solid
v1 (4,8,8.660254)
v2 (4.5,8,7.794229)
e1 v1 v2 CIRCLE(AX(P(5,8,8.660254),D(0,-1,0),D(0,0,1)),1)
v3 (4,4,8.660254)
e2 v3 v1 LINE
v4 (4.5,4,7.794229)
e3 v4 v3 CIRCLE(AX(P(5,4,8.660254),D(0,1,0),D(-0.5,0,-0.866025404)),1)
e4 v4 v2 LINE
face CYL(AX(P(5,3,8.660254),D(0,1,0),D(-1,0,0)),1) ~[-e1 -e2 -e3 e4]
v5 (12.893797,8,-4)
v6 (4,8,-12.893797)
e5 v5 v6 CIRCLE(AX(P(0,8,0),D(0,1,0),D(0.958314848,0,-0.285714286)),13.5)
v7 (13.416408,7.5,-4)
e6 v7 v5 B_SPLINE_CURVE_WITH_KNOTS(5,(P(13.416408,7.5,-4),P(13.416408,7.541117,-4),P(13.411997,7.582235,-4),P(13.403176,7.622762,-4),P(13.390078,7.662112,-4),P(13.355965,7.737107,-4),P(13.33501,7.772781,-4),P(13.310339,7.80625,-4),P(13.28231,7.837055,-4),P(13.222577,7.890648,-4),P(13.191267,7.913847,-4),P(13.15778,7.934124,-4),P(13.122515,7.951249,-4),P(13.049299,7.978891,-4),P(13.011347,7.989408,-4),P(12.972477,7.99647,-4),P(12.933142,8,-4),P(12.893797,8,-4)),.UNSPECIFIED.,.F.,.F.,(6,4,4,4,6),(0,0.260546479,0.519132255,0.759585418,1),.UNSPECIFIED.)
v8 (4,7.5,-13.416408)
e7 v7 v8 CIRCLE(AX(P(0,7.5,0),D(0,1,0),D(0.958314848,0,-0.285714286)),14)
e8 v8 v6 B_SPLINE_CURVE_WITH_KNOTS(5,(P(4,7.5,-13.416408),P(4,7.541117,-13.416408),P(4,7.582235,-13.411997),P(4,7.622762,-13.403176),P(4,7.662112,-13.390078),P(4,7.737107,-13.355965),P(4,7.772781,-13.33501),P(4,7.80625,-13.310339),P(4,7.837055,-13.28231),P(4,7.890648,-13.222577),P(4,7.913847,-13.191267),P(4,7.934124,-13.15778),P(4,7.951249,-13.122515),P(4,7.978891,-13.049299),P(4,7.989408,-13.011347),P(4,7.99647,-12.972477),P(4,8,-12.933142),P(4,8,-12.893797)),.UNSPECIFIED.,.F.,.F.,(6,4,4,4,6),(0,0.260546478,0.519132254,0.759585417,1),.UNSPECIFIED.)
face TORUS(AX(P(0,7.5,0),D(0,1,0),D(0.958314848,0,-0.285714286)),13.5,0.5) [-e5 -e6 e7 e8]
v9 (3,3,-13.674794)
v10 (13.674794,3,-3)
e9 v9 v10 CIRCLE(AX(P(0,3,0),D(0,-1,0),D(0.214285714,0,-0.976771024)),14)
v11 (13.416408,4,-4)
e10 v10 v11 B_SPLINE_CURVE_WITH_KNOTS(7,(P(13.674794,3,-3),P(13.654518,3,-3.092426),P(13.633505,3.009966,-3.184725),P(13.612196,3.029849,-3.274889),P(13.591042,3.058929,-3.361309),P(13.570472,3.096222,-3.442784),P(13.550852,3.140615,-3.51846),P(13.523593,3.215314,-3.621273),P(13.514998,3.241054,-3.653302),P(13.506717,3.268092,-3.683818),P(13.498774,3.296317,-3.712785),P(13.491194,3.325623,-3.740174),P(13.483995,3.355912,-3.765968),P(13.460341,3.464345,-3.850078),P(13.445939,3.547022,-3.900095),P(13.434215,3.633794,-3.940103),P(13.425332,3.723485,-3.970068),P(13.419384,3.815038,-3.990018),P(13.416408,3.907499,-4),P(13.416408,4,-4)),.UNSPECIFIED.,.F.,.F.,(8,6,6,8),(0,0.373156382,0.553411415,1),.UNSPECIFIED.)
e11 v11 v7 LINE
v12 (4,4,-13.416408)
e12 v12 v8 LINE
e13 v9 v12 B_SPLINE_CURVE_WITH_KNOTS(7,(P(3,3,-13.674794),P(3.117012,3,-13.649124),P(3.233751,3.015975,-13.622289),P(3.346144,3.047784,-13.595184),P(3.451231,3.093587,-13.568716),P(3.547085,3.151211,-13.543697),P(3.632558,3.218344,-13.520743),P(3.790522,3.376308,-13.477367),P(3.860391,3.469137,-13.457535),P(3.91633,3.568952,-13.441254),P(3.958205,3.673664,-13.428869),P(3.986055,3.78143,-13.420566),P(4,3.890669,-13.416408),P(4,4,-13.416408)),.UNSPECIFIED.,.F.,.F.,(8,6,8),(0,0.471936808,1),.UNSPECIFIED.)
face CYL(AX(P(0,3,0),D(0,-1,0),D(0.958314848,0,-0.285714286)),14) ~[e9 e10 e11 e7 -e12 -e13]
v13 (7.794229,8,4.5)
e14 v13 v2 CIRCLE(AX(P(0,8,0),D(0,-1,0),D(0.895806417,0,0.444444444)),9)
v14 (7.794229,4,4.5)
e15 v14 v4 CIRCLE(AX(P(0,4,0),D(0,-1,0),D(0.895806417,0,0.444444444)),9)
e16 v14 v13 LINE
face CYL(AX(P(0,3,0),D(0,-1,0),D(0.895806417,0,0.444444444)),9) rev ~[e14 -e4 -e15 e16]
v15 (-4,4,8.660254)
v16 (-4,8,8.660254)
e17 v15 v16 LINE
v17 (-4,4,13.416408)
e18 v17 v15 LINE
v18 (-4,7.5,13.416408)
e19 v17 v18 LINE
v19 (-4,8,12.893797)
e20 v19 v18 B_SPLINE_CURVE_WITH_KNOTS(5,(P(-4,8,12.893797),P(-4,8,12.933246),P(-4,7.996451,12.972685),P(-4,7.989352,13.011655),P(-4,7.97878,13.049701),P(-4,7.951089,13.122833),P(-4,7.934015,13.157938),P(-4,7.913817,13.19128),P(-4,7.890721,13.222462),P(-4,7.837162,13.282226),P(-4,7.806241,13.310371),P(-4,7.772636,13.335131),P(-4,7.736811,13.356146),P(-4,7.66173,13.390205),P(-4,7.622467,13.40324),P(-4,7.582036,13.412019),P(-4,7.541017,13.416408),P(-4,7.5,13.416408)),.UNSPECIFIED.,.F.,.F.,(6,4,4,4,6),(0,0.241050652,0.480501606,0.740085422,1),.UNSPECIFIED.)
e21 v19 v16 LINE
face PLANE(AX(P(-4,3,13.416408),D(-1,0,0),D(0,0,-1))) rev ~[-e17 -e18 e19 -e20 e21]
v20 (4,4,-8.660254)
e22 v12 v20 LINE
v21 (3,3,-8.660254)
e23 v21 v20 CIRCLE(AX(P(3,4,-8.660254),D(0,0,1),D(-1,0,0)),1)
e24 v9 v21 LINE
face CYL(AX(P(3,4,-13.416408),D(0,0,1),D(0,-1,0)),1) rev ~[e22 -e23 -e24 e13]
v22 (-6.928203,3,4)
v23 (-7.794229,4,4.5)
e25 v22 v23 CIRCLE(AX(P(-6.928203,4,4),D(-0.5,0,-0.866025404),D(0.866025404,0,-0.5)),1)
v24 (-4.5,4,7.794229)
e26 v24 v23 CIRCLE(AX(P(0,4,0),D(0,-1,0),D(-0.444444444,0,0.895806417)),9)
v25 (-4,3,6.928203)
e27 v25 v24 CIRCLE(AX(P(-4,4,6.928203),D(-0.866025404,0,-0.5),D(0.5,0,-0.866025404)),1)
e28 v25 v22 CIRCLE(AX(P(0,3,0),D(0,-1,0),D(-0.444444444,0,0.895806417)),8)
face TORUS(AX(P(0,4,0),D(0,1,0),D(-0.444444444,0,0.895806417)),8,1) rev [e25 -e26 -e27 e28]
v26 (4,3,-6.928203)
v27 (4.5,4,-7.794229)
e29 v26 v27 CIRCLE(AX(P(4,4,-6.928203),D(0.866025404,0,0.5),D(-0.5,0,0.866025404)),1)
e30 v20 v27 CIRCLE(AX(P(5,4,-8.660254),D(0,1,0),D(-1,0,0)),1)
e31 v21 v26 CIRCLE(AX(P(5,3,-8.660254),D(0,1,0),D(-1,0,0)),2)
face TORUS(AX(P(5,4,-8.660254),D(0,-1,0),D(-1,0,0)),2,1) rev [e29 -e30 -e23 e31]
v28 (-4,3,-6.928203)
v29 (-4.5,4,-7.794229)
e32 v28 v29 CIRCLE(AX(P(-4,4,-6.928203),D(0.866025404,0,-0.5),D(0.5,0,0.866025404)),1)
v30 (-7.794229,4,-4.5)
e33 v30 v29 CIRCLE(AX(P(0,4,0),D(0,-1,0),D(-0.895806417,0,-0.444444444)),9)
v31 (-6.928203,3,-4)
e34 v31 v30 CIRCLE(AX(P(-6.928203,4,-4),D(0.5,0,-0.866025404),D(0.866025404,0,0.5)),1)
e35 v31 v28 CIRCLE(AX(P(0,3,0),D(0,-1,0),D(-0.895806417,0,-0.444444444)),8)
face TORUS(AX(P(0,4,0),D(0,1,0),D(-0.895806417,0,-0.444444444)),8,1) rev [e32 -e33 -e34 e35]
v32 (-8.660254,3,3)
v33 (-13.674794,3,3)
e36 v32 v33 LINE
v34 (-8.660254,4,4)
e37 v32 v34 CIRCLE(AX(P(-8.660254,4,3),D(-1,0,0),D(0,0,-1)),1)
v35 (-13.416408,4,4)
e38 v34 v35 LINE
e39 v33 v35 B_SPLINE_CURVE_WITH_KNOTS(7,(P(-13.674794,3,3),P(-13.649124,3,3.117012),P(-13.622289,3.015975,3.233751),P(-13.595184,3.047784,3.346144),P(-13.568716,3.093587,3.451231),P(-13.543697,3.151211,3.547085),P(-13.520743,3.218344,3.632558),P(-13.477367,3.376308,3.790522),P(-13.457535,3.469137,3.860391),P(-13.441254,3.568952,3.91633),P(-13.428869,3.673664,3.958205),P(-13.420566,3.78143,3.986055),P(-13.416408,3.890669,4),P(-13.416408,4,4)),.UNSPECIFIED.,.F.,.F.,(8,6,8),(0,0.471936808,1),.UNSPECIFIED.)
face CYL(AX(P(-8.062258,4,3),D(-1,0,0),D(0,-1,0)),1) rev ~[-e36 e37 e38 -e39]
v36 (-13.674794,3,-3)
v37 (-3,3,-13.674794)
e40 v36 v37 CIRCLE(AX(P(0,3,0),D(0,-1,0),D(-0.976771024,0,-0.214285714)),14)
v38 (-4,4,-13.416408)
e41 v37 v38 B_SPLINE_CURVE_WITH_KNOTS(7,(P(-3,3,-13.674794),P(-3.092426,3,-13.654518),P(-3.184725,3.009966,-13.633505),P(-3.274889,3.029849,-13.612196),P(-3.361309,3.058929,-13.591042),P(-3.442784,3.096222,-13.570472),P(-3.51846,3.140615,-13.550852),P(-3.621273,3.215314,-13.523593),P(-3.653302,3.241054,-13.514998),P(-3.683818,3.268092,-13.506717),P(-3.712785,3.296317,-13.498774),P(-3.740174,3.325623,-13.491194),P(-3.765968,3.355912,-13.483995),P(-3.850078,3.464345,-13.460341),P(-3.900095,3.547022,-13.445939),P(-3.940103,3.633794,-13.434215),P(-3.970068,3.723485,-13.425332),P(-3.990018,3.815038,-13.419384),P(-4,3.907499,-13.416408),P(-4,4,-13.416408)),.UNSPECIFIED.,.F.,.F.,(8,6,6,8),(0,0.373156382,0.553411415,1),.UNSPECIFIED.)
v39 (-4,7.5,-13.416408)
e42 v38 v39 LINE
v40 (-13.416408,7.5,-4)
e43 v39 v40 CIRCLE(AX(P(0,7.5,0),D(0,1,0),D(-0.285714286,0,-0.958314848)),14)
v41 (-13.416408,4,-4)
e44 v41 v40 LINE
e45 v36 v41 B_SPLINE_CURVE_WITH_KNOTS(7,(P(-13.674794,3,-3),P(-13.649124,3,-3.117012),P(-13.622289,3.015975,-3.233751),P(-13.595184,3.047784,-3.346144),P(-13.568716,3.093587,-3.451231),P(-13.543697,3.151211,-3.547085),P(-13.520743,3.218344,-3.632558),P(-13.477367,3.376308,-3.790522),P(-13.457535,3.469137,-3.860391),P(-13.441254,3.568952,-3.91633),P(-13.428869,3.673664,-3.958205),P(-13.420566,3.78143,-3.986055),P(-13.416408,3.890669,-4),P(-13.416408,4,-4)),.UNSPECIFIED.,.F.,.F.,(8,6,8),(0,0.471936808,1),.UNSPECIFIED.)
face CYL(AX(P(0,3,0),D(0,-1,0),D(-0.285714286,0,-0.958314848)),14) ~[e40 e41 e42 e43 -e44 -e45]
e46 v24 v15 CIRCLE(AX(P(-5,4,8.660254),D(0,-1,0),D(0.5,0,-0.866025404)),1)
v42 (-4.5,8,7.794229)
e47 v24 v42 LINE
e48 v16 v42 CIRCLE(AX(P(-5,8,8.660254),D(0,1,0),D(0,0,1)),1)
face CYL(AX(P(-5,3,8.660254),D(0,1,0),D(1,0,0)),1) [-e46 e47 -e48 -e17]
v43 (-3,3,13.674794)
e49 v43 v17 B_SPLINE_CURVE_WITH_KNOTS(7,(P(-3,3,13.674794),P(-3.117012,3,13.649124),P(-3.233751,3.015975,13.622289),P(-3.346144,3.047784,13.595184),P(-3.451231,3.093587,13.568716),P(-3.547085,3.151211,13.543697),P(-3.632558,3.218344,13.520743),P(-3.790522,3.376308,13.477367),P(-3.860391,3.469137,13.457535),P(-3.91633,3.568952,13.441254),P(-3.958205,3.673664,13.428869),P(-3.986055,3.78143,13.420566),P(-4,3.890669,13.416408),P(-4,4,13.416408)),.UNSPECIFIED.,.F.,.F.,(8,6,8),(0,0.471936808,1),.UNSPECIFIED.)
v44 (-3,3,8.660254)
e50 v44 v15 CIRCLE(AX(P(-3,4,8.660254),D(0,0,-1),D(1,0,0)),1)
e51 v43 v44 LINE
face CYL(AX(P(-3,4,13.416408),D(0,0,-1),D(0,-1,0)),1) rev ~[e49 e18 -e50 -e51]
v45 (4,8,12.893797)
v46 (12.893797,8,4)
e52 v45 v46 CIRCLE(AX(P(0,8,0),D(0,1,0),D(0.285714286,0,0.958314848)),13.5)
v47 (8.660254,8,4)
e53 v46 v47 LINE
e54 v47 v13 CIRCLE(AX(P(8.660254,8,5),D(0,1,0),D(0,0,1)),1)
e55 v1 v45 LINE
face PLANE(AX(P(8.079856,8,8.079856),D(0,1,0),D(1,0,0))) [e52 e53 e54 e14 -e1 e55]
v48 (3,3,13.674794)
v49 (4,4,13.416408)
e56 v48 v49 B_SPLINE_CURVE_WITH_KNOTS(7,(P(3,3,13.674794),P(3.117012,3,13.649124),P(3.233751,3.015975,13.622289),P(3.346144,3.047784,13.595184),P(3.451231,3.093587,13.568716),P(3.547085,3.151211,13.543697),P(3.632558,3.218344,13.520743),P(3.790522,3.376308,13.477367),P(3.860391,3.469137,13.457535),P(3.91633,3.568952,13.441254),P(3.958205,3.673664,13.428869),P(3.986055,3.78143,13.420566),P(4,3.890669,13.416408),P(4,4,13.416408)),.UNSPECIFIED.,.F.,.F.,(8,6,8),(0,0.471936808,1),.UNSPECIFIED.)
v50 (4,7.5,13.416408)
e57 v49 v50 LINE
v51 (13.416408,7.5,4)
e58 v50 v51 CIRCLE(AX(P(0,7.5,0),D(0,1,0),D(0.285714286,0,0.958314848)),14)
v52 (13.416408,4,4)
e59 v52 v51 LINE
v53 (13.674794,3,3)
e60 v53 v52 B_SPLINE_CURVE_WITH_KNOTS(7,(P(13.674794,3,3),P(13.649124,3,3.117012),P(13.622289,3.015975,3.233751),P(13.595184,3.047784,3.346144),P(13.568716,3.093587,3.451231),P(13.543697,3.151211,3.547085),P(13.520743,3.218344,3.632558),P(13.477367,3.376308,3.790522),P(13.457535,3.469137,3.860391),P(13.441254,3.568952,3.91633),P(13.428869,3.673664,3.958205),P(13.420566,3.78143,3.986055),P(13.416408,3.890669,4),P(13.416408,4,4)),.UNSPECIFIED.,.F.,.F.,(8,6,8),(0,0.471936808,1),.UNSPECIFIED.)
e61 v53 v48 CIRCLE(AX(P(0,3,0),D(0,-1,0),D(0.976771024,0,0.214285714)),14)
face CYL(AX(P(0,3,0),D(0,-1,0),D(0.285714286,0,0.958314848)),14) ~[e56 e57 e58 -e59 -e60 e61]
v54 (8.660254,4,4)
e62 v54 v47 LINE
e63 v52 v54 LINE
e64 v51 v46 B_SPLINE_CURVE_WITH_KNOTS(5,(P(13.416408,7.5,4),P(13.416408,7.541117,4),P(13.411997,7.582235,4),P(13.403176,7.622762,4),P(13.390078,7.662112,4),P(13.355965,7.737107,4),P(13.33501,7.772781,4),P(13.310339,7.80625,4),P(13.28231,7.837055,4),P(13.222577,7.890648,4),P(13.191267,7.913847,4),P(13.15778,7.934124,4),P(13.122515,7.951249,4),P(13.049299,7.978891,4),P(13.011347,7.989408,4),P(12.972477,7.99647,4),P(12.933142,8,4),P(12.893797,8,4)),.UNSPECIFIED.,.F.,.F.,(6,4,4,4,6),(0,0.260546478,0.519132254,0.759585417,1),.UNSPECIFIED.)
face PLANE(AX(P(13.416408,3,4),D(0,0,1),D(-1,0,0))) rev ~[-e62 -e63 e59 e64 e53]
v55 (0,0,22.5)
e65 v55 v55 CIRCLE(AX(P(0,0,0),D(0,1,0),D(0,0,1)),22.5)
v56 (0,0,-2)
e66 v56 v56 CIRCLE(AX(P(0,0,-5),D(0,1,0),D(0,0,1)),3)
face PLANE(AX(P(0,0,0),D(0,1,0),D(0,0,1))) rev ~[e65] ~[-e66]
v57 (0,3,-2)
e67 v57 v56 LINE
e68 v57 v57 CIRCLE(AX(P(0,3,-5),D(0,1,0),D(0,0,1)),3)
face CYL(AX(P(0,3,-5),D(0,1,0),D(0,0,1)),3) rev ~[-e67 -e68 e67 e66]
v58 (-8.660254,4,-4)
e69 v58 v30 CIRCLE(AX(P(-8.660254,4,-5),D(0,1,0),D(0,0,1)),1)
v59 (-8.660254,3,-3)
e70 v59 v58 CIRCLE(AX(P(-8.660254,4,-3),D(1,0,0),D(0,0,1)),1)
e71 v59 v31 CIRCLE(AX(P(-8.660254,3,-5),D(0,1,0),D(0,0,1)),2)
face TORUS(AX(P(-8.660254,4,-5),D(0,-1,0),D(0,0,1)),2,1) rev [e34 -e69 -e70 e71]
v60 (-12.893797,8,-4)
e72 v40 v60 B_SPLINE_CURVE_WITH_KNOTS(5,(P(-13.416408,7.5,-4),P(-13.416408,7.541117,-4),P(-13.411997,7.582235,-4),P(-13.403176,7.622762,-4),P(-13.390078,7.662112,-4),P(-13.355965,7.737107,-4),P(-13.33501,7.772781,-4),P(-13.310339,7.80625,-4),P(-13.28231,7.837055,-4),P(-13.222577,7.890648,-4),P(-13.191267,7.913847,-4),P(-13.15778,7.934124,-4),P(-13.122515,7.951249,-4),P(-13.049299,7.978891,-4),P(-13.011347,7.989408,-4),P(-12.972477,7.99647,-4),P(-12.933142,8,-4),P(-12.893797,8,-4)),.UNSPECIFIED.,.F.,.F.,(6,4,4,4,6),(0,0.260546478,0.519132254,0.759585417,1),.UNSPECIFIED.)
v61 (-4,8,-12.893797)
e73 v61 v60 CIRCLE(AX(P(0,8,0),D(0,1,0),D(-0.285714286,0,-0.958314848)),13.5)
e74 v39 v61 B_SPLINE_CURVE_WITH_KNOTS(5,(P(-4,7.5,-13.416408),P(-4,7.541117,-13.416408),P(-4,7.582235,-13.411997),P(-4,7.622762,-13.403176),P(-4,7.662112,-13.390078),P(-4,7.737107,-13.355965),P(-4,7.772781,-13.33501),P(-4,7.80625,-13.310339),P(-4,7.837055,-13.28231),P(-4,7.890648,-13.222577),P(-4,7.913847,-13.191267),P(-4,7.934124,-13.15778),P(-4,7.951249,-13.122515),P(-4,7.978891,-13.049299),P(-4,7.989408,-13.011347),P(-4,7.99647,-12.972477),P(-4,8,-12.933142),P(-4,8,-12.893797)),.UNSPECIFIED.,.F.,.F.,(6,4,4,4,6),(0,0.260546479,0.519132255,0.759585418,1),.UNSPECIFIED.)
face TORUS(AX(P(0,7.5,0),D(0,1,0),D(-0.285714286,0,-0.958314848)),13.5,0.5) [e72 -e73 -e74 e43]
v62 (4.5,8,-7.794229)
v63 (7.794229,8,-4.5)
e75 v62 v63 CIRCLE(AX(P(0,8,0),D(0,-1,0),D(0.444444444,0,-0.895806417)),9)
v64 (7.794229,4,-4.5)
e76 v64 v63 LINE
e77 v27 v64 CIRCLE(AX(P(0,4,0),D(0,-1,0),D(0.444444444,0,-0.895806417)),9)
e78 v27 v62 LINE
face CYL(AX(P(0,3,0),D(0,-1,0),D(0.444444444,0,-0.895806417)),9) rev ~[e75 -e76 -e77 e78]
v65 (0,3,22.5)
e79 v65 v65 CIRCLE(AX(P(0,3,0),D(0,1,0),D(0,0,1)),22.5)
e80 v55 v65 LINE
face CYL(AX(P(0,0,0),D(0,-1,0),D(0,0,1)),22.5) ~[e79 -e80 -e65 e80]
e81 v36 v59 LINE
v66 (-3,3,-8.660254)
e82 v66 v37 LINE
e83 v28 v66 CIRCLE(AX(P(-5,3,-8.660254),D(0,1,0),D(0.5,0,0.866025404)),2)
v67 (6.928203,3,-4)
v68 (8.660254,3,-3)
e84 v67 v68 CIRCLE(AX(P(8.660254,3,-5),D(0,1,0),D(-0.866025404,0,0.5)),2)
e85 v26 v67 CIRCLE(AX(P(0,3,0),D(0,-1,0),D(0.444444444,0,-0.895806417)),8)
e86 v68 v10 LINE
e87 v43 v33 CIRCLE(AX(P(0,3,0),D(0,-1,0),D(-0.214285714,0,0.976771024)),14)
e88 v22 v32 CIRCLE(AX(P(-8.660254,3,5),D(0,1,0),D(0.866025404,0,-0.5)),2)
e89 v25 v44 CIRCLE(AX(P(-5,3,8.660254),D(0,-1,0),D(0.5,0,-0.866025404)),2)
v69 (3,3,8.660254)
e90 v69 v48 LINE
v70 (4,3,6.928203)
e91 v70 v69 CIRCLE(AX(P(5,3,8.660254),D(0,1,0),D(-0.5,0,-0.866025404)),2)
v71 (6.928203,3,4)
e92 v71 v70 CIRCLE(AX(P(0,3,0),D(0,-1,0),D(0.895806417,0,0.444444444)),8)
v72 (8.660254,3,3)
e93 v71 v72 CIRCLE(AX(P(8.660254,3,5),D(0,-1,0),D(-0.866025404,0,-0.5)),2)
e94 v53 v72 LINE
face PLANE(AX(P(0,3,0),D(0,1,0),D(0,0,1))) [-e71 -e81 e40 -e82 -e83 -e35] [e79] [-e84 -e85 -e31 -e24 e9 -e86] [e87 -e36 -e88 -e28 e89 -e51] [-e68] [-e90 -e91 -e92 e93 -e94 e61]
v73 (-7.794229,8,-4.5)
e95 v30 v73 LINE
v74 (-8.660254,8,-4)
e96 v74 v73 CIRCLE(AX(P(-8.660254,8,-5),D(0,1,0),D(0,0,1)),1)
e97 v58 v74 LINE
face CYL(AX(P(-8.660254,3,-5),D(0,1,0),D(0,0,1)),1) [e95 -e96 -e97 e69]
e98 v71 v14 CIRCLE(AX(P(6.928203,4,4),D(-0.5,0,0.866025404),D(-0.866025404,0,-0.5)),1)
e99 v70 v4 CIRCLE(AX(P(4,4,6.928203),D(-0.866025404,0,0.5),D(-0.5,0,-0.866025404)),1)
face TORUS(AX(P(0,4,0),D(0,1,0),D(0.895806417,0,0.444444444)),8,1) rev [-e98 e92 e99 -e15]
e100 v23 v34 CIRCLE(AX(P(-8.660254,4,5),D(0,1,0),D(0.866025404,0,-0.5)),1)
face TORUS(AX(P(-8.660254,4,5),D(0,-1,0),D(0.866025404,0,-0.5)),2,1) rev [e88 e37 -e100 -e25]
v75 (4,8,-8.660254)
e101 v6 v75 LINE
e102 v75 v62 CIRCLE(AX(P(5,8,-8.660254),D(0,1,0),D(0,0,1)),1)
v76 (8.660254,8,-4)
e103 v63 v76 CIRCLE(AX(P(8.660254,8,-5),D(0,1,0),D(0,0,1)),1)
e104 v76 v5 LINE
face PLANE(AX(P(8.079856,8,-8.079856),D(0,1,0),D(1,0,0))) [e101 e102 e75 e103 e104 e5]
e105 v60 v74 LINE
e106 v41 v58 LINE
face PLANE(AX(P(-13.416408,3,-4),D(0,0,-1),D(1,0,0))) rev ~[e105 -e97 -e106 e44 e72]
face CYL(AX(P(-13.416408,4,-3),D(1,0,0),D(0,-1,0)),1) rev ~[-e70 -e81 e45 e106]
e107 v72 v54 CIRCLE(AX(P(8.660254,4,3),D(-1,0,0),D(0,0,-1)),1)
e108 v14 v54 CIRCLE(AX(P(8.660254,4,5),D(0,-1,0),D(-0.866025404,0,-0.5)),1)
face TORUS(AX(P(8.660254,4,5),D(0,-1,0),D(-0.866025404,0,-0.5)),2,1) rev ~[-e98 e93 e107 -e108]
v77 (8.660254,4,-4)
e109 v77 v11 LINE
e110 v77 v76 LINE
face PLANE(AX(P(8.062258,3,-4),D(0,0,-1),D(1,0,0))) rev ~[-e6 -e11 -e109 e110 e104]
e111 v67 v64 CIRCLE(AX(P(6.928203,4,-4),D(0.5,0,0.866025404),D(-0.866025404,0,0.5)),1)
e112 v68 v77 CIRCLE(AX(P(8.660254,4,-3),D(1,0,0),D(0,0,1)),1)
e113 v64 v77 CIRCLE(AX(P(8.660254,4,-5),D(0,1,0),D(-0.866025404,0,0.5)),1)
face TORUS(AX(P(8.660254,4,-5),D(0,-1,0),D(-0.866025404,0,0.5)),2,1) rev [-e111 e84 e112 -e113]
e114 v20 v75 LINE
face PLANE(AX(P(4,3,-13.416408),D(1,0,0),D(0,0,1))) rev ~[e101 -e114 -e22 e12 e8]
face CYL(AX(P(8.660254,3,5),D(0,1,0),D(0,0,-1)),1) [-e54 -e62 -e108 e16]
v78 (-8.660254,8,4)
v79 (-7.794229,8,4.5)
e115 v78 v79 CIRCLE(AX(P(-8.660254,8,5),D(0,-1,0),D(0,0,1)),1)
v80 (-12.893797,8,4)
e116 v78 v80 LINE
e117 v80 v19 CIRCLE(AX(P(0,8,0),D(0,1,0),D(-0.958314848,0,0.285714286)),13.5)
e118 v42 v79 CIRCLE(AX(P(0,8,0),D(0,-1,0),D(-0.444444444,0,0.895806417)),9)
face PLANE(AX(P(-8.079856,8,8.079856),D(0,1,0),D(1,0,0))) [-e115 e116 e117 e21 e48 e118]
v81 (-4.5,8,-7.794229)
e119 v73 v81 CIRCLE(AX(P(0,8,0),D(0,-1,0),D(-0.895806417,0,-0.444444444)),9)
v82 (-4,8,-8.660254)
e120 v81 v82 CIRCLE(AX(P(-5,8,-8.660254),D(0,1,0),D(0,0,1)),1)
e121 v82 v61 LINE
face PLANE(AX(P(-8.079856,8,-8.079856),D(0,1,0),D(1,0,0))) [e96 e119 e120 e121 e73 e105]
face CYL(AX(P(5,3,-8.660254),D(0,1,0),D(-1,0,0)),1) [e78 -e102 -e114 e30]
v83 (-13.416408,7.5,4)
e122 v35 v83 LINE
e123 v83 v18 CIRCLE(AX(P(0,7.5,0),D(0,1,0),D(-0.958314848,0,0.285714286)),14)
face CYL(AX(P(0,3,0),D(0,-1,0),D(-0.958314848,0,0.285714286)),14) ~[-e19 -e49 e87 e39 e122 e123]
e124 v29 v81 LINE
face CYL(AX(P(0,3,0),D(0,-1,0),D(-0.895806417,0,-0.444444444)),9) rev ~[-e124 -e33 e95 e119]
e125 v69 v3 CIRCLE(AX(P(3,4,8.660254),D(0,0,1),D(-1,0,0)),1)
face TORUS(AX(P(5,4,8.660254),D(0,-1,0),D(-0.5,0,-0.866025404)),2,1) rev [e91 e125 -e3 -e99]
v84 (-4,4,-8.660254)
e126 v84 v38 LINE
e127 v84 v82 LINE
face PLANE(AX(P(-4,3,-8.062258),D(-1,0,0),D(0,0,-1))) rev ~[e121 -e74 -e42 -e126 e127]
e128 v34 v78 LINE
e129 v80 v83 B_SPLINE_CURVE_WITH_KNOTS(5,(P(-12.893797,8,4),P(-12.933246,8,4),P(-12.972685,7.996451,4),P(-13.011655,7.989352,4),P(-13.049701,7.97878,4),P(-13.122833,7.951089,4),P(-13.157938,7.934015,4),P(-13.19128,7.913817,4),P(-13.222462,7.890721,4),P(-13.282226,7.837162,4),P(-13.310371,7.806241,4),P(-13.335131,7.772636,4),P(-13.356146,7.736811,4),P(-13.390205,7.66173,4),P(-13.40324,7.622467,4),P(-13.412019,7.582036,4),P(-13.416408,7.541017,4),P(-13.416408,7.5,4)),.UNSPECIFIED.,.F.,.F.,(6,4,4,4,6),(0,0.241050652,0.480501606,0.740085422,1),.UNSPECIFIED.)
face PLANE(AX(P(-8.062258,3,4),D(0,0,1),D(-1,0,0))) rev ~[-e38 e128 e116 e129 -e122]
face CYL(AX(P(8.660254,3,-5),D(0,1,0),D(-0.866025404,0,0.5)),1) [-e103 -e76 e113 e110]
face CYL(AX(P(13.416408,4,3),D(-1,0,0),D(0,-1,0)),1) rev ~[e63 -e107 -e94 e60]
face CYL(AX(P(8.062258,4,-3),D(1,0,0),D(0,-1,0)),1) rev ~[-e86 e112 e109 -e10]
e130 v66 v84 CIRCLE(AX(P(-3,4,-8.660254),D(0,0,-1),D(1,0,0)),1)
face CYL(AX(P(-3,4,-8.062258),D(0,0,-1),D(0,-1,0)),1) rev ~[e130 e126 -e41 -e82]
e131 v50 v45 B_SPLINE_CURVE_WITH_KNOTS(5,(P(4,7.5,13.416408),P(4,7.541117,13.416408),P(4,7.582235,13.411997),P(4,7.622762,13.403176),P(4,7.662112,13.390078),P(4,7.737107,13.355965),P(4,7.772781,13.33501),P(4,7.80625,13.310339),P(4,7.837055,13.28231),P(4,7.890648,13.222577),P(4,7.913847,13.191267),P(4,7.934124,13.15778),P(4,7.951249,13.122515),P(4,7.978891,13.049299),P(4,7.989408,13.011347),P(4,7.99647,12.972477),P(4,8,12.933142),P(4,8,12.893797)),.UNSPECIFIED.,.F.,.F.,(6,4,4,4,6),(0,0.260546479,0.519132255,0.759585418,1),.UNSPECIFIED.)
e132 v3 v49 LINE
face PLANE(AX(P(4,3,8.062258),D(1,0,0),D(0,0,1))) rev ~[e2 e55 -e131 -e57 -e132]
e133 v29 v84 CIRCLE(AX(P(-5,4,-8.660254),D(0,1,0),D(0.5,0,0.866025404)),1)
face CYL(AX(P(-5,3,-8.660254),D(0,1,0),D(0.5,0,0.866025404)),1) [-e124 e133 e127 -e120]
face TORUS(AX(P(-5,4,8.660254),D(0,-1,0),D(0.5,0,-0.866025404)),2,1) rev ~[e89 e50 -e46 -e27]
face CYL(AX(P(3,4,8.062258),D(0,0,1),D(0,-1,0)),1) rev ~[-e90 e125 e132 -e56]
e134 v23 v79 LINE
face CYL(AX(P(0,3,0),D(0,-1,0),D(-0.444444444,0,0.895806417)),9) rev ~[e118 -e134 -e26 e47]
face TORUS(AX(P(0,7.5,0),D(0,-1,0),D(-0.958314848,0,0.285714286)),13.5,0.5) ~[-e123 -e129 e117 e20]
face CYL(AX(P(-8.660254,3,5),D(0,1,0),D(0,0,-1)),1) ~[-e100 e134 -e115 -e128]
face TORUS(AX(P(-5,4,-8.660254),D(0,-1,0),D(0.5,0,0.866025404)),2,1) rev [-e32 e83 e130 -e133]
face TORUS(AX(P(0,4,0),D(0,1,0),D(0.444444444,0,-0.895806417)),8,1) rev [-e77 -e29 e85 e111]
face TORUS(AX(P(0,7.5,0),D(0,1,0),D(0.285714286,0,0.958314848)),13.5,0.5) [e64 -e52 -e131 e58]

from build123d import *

# Parameters (mm, degrees)
SKETCH2_R           = 22.5
BOSS_EXTRUDE1_DEPTH = 3
BOSS_EXTRUDE2_DEPTH = 5
FILLET1_R           = 1
FILLET2_R           = 0.5
SKETCH5_R           = 3
CUT_EXTRUDE1_DEPTH  = 5


with BuildPart() as part:
    # Sketch2 → Boss-Extrude1 (new body)
    with BuildSketch(Plane(origin=(0, 0, 0), x_dir=(1, 0, 0), z_dir=(0, 1, 0))):
        with Locations(Location((0, 0, 0), (0, 0, 270))):
            Circle(SKETCH2_R)
    extrude(amount=BOSS_EXTRUDE1_DEPTH)

    # Sketch3 → Boss-Extrude2 (add)
    with BuildSketch(Plane(origin=(0, 3, 0), x_dir=(1, 0, 0), z_dir=(0, 1, 0))):
        with BuildLine():
            ThreePointArc((-4, 13.416407865), (-9.899494937, 9.899494937), (-13.416407865, 4))
            Line((-13.416407865, 4), (-8.062257748, 4))
            ThreePointArc((-8.062257748, 4), (-6.363961031, 6.363961031), (-4, 8.062257748))
            Line((-4, 8.062257748), (-4, 13.416407865))
        make_face()
        with BuildLine():
            ThreePointArc((13.416407865, 4), (9.899494937, 9.899494937), (4, 13.416407865))
            Line((4, 13.416407865), (4, 8.062257748))
            ThreePointArc((4, 8.062257748), (6.363961031, 6.363961031), (8.062257748, 4))
            Line((8.062257748, 4), (13.416407865, 4))
        make_face()
        with BuildLine():
            Line((4, -8.062257748), (4, -13.416407865))
            ThreePointArc((4, -13.416407865), (9.899494937, -9.899494937), (13.416407865, -4))
            Line((13.416407865, -4), (8.062257748, -4))
            ThreePointArc((8.062257748, -4), (6.363961031, -6.363961031), (4, -8.062257748))
        make_face()
        with BuildLine():
            Line((-8.062257748, -4), (-13.416407865, -4))
            ThreePointArc((-13.416407865, -4), (-9.899494937, -9.899494937), (-4, -13.416407865))
            Line((-4, -13.416407865), (-4, -8.062257748))
            ThreePointArc((-4, -8.062257748), (-6.363961031, -6.363961031), (-8.062257748, -4))
        make_face()
    extrude(amount=BOSS_EXTRUDE2_DEPTH)

    # Fillet1
    fillet1_edges = [part.edges().sort_by_distance(p)[0] for p in [
        (-6.363961031, 3, -6.363961031),
        (-4, 3, -10.739332807),
        (4, 5.5, -8.062257748),
        (10.739332807, 3, -4),
        (8.062257748, 5.5, -4),
        (4, 3, -10.739332807),
        (6.363961031, 3, -6.363961031),
        (8.062257748, 5.5, 4),
        (4, 3, 10.739332807),
        (4, 5.5, 8.062257748),
        (6.363961031, 3, 6.363961031),
        (10.739332807, 3, 4),
        (-4, 5.5, 8.062257748),
        (-8.062257748, 5.5, 4),
        (-6.363961031, 3, 6.363961031),
        (-4, 3, 10.739332807),
        (-10.739332807, 3, 4),
        (-8.062257748, 5.5, -4),
        (-4, 5.5, -8.062257748),
        (-10.739332807, 3, -4),
    ]]
    fillet(fillet1_edges, radius=FILLET1_R)

    # Fillet2
    fillet2_edges = [part.edges().sort_by_distance(p)[0] for p in [
        (9.899494937, 8, -9.899494937),
        (9.899494937, 8, 9.899494937),
        (-9.899494937, 8, 9.899494937),
        (-9.899494937, 8, -9.899494937),
    ]]
    fillet(fillet2_edges, radius=FILLET2_R)

    # Sketch5 → Cut-Extrude1 (cut)
    with BuildSketch(Plane(origin=(0, 3, 0), x_dir=(1, 0, 0), z_dir=(0, 1, 0))):
        with Locations(Location((0, 5, 0), (0, 0, 270))):
            Circle(SKETCH5_R)
    extrude(amount=-CUT_EXTRUDE1_DEPTH, mode=Mode.SUBTRACT)


solid = part.part
